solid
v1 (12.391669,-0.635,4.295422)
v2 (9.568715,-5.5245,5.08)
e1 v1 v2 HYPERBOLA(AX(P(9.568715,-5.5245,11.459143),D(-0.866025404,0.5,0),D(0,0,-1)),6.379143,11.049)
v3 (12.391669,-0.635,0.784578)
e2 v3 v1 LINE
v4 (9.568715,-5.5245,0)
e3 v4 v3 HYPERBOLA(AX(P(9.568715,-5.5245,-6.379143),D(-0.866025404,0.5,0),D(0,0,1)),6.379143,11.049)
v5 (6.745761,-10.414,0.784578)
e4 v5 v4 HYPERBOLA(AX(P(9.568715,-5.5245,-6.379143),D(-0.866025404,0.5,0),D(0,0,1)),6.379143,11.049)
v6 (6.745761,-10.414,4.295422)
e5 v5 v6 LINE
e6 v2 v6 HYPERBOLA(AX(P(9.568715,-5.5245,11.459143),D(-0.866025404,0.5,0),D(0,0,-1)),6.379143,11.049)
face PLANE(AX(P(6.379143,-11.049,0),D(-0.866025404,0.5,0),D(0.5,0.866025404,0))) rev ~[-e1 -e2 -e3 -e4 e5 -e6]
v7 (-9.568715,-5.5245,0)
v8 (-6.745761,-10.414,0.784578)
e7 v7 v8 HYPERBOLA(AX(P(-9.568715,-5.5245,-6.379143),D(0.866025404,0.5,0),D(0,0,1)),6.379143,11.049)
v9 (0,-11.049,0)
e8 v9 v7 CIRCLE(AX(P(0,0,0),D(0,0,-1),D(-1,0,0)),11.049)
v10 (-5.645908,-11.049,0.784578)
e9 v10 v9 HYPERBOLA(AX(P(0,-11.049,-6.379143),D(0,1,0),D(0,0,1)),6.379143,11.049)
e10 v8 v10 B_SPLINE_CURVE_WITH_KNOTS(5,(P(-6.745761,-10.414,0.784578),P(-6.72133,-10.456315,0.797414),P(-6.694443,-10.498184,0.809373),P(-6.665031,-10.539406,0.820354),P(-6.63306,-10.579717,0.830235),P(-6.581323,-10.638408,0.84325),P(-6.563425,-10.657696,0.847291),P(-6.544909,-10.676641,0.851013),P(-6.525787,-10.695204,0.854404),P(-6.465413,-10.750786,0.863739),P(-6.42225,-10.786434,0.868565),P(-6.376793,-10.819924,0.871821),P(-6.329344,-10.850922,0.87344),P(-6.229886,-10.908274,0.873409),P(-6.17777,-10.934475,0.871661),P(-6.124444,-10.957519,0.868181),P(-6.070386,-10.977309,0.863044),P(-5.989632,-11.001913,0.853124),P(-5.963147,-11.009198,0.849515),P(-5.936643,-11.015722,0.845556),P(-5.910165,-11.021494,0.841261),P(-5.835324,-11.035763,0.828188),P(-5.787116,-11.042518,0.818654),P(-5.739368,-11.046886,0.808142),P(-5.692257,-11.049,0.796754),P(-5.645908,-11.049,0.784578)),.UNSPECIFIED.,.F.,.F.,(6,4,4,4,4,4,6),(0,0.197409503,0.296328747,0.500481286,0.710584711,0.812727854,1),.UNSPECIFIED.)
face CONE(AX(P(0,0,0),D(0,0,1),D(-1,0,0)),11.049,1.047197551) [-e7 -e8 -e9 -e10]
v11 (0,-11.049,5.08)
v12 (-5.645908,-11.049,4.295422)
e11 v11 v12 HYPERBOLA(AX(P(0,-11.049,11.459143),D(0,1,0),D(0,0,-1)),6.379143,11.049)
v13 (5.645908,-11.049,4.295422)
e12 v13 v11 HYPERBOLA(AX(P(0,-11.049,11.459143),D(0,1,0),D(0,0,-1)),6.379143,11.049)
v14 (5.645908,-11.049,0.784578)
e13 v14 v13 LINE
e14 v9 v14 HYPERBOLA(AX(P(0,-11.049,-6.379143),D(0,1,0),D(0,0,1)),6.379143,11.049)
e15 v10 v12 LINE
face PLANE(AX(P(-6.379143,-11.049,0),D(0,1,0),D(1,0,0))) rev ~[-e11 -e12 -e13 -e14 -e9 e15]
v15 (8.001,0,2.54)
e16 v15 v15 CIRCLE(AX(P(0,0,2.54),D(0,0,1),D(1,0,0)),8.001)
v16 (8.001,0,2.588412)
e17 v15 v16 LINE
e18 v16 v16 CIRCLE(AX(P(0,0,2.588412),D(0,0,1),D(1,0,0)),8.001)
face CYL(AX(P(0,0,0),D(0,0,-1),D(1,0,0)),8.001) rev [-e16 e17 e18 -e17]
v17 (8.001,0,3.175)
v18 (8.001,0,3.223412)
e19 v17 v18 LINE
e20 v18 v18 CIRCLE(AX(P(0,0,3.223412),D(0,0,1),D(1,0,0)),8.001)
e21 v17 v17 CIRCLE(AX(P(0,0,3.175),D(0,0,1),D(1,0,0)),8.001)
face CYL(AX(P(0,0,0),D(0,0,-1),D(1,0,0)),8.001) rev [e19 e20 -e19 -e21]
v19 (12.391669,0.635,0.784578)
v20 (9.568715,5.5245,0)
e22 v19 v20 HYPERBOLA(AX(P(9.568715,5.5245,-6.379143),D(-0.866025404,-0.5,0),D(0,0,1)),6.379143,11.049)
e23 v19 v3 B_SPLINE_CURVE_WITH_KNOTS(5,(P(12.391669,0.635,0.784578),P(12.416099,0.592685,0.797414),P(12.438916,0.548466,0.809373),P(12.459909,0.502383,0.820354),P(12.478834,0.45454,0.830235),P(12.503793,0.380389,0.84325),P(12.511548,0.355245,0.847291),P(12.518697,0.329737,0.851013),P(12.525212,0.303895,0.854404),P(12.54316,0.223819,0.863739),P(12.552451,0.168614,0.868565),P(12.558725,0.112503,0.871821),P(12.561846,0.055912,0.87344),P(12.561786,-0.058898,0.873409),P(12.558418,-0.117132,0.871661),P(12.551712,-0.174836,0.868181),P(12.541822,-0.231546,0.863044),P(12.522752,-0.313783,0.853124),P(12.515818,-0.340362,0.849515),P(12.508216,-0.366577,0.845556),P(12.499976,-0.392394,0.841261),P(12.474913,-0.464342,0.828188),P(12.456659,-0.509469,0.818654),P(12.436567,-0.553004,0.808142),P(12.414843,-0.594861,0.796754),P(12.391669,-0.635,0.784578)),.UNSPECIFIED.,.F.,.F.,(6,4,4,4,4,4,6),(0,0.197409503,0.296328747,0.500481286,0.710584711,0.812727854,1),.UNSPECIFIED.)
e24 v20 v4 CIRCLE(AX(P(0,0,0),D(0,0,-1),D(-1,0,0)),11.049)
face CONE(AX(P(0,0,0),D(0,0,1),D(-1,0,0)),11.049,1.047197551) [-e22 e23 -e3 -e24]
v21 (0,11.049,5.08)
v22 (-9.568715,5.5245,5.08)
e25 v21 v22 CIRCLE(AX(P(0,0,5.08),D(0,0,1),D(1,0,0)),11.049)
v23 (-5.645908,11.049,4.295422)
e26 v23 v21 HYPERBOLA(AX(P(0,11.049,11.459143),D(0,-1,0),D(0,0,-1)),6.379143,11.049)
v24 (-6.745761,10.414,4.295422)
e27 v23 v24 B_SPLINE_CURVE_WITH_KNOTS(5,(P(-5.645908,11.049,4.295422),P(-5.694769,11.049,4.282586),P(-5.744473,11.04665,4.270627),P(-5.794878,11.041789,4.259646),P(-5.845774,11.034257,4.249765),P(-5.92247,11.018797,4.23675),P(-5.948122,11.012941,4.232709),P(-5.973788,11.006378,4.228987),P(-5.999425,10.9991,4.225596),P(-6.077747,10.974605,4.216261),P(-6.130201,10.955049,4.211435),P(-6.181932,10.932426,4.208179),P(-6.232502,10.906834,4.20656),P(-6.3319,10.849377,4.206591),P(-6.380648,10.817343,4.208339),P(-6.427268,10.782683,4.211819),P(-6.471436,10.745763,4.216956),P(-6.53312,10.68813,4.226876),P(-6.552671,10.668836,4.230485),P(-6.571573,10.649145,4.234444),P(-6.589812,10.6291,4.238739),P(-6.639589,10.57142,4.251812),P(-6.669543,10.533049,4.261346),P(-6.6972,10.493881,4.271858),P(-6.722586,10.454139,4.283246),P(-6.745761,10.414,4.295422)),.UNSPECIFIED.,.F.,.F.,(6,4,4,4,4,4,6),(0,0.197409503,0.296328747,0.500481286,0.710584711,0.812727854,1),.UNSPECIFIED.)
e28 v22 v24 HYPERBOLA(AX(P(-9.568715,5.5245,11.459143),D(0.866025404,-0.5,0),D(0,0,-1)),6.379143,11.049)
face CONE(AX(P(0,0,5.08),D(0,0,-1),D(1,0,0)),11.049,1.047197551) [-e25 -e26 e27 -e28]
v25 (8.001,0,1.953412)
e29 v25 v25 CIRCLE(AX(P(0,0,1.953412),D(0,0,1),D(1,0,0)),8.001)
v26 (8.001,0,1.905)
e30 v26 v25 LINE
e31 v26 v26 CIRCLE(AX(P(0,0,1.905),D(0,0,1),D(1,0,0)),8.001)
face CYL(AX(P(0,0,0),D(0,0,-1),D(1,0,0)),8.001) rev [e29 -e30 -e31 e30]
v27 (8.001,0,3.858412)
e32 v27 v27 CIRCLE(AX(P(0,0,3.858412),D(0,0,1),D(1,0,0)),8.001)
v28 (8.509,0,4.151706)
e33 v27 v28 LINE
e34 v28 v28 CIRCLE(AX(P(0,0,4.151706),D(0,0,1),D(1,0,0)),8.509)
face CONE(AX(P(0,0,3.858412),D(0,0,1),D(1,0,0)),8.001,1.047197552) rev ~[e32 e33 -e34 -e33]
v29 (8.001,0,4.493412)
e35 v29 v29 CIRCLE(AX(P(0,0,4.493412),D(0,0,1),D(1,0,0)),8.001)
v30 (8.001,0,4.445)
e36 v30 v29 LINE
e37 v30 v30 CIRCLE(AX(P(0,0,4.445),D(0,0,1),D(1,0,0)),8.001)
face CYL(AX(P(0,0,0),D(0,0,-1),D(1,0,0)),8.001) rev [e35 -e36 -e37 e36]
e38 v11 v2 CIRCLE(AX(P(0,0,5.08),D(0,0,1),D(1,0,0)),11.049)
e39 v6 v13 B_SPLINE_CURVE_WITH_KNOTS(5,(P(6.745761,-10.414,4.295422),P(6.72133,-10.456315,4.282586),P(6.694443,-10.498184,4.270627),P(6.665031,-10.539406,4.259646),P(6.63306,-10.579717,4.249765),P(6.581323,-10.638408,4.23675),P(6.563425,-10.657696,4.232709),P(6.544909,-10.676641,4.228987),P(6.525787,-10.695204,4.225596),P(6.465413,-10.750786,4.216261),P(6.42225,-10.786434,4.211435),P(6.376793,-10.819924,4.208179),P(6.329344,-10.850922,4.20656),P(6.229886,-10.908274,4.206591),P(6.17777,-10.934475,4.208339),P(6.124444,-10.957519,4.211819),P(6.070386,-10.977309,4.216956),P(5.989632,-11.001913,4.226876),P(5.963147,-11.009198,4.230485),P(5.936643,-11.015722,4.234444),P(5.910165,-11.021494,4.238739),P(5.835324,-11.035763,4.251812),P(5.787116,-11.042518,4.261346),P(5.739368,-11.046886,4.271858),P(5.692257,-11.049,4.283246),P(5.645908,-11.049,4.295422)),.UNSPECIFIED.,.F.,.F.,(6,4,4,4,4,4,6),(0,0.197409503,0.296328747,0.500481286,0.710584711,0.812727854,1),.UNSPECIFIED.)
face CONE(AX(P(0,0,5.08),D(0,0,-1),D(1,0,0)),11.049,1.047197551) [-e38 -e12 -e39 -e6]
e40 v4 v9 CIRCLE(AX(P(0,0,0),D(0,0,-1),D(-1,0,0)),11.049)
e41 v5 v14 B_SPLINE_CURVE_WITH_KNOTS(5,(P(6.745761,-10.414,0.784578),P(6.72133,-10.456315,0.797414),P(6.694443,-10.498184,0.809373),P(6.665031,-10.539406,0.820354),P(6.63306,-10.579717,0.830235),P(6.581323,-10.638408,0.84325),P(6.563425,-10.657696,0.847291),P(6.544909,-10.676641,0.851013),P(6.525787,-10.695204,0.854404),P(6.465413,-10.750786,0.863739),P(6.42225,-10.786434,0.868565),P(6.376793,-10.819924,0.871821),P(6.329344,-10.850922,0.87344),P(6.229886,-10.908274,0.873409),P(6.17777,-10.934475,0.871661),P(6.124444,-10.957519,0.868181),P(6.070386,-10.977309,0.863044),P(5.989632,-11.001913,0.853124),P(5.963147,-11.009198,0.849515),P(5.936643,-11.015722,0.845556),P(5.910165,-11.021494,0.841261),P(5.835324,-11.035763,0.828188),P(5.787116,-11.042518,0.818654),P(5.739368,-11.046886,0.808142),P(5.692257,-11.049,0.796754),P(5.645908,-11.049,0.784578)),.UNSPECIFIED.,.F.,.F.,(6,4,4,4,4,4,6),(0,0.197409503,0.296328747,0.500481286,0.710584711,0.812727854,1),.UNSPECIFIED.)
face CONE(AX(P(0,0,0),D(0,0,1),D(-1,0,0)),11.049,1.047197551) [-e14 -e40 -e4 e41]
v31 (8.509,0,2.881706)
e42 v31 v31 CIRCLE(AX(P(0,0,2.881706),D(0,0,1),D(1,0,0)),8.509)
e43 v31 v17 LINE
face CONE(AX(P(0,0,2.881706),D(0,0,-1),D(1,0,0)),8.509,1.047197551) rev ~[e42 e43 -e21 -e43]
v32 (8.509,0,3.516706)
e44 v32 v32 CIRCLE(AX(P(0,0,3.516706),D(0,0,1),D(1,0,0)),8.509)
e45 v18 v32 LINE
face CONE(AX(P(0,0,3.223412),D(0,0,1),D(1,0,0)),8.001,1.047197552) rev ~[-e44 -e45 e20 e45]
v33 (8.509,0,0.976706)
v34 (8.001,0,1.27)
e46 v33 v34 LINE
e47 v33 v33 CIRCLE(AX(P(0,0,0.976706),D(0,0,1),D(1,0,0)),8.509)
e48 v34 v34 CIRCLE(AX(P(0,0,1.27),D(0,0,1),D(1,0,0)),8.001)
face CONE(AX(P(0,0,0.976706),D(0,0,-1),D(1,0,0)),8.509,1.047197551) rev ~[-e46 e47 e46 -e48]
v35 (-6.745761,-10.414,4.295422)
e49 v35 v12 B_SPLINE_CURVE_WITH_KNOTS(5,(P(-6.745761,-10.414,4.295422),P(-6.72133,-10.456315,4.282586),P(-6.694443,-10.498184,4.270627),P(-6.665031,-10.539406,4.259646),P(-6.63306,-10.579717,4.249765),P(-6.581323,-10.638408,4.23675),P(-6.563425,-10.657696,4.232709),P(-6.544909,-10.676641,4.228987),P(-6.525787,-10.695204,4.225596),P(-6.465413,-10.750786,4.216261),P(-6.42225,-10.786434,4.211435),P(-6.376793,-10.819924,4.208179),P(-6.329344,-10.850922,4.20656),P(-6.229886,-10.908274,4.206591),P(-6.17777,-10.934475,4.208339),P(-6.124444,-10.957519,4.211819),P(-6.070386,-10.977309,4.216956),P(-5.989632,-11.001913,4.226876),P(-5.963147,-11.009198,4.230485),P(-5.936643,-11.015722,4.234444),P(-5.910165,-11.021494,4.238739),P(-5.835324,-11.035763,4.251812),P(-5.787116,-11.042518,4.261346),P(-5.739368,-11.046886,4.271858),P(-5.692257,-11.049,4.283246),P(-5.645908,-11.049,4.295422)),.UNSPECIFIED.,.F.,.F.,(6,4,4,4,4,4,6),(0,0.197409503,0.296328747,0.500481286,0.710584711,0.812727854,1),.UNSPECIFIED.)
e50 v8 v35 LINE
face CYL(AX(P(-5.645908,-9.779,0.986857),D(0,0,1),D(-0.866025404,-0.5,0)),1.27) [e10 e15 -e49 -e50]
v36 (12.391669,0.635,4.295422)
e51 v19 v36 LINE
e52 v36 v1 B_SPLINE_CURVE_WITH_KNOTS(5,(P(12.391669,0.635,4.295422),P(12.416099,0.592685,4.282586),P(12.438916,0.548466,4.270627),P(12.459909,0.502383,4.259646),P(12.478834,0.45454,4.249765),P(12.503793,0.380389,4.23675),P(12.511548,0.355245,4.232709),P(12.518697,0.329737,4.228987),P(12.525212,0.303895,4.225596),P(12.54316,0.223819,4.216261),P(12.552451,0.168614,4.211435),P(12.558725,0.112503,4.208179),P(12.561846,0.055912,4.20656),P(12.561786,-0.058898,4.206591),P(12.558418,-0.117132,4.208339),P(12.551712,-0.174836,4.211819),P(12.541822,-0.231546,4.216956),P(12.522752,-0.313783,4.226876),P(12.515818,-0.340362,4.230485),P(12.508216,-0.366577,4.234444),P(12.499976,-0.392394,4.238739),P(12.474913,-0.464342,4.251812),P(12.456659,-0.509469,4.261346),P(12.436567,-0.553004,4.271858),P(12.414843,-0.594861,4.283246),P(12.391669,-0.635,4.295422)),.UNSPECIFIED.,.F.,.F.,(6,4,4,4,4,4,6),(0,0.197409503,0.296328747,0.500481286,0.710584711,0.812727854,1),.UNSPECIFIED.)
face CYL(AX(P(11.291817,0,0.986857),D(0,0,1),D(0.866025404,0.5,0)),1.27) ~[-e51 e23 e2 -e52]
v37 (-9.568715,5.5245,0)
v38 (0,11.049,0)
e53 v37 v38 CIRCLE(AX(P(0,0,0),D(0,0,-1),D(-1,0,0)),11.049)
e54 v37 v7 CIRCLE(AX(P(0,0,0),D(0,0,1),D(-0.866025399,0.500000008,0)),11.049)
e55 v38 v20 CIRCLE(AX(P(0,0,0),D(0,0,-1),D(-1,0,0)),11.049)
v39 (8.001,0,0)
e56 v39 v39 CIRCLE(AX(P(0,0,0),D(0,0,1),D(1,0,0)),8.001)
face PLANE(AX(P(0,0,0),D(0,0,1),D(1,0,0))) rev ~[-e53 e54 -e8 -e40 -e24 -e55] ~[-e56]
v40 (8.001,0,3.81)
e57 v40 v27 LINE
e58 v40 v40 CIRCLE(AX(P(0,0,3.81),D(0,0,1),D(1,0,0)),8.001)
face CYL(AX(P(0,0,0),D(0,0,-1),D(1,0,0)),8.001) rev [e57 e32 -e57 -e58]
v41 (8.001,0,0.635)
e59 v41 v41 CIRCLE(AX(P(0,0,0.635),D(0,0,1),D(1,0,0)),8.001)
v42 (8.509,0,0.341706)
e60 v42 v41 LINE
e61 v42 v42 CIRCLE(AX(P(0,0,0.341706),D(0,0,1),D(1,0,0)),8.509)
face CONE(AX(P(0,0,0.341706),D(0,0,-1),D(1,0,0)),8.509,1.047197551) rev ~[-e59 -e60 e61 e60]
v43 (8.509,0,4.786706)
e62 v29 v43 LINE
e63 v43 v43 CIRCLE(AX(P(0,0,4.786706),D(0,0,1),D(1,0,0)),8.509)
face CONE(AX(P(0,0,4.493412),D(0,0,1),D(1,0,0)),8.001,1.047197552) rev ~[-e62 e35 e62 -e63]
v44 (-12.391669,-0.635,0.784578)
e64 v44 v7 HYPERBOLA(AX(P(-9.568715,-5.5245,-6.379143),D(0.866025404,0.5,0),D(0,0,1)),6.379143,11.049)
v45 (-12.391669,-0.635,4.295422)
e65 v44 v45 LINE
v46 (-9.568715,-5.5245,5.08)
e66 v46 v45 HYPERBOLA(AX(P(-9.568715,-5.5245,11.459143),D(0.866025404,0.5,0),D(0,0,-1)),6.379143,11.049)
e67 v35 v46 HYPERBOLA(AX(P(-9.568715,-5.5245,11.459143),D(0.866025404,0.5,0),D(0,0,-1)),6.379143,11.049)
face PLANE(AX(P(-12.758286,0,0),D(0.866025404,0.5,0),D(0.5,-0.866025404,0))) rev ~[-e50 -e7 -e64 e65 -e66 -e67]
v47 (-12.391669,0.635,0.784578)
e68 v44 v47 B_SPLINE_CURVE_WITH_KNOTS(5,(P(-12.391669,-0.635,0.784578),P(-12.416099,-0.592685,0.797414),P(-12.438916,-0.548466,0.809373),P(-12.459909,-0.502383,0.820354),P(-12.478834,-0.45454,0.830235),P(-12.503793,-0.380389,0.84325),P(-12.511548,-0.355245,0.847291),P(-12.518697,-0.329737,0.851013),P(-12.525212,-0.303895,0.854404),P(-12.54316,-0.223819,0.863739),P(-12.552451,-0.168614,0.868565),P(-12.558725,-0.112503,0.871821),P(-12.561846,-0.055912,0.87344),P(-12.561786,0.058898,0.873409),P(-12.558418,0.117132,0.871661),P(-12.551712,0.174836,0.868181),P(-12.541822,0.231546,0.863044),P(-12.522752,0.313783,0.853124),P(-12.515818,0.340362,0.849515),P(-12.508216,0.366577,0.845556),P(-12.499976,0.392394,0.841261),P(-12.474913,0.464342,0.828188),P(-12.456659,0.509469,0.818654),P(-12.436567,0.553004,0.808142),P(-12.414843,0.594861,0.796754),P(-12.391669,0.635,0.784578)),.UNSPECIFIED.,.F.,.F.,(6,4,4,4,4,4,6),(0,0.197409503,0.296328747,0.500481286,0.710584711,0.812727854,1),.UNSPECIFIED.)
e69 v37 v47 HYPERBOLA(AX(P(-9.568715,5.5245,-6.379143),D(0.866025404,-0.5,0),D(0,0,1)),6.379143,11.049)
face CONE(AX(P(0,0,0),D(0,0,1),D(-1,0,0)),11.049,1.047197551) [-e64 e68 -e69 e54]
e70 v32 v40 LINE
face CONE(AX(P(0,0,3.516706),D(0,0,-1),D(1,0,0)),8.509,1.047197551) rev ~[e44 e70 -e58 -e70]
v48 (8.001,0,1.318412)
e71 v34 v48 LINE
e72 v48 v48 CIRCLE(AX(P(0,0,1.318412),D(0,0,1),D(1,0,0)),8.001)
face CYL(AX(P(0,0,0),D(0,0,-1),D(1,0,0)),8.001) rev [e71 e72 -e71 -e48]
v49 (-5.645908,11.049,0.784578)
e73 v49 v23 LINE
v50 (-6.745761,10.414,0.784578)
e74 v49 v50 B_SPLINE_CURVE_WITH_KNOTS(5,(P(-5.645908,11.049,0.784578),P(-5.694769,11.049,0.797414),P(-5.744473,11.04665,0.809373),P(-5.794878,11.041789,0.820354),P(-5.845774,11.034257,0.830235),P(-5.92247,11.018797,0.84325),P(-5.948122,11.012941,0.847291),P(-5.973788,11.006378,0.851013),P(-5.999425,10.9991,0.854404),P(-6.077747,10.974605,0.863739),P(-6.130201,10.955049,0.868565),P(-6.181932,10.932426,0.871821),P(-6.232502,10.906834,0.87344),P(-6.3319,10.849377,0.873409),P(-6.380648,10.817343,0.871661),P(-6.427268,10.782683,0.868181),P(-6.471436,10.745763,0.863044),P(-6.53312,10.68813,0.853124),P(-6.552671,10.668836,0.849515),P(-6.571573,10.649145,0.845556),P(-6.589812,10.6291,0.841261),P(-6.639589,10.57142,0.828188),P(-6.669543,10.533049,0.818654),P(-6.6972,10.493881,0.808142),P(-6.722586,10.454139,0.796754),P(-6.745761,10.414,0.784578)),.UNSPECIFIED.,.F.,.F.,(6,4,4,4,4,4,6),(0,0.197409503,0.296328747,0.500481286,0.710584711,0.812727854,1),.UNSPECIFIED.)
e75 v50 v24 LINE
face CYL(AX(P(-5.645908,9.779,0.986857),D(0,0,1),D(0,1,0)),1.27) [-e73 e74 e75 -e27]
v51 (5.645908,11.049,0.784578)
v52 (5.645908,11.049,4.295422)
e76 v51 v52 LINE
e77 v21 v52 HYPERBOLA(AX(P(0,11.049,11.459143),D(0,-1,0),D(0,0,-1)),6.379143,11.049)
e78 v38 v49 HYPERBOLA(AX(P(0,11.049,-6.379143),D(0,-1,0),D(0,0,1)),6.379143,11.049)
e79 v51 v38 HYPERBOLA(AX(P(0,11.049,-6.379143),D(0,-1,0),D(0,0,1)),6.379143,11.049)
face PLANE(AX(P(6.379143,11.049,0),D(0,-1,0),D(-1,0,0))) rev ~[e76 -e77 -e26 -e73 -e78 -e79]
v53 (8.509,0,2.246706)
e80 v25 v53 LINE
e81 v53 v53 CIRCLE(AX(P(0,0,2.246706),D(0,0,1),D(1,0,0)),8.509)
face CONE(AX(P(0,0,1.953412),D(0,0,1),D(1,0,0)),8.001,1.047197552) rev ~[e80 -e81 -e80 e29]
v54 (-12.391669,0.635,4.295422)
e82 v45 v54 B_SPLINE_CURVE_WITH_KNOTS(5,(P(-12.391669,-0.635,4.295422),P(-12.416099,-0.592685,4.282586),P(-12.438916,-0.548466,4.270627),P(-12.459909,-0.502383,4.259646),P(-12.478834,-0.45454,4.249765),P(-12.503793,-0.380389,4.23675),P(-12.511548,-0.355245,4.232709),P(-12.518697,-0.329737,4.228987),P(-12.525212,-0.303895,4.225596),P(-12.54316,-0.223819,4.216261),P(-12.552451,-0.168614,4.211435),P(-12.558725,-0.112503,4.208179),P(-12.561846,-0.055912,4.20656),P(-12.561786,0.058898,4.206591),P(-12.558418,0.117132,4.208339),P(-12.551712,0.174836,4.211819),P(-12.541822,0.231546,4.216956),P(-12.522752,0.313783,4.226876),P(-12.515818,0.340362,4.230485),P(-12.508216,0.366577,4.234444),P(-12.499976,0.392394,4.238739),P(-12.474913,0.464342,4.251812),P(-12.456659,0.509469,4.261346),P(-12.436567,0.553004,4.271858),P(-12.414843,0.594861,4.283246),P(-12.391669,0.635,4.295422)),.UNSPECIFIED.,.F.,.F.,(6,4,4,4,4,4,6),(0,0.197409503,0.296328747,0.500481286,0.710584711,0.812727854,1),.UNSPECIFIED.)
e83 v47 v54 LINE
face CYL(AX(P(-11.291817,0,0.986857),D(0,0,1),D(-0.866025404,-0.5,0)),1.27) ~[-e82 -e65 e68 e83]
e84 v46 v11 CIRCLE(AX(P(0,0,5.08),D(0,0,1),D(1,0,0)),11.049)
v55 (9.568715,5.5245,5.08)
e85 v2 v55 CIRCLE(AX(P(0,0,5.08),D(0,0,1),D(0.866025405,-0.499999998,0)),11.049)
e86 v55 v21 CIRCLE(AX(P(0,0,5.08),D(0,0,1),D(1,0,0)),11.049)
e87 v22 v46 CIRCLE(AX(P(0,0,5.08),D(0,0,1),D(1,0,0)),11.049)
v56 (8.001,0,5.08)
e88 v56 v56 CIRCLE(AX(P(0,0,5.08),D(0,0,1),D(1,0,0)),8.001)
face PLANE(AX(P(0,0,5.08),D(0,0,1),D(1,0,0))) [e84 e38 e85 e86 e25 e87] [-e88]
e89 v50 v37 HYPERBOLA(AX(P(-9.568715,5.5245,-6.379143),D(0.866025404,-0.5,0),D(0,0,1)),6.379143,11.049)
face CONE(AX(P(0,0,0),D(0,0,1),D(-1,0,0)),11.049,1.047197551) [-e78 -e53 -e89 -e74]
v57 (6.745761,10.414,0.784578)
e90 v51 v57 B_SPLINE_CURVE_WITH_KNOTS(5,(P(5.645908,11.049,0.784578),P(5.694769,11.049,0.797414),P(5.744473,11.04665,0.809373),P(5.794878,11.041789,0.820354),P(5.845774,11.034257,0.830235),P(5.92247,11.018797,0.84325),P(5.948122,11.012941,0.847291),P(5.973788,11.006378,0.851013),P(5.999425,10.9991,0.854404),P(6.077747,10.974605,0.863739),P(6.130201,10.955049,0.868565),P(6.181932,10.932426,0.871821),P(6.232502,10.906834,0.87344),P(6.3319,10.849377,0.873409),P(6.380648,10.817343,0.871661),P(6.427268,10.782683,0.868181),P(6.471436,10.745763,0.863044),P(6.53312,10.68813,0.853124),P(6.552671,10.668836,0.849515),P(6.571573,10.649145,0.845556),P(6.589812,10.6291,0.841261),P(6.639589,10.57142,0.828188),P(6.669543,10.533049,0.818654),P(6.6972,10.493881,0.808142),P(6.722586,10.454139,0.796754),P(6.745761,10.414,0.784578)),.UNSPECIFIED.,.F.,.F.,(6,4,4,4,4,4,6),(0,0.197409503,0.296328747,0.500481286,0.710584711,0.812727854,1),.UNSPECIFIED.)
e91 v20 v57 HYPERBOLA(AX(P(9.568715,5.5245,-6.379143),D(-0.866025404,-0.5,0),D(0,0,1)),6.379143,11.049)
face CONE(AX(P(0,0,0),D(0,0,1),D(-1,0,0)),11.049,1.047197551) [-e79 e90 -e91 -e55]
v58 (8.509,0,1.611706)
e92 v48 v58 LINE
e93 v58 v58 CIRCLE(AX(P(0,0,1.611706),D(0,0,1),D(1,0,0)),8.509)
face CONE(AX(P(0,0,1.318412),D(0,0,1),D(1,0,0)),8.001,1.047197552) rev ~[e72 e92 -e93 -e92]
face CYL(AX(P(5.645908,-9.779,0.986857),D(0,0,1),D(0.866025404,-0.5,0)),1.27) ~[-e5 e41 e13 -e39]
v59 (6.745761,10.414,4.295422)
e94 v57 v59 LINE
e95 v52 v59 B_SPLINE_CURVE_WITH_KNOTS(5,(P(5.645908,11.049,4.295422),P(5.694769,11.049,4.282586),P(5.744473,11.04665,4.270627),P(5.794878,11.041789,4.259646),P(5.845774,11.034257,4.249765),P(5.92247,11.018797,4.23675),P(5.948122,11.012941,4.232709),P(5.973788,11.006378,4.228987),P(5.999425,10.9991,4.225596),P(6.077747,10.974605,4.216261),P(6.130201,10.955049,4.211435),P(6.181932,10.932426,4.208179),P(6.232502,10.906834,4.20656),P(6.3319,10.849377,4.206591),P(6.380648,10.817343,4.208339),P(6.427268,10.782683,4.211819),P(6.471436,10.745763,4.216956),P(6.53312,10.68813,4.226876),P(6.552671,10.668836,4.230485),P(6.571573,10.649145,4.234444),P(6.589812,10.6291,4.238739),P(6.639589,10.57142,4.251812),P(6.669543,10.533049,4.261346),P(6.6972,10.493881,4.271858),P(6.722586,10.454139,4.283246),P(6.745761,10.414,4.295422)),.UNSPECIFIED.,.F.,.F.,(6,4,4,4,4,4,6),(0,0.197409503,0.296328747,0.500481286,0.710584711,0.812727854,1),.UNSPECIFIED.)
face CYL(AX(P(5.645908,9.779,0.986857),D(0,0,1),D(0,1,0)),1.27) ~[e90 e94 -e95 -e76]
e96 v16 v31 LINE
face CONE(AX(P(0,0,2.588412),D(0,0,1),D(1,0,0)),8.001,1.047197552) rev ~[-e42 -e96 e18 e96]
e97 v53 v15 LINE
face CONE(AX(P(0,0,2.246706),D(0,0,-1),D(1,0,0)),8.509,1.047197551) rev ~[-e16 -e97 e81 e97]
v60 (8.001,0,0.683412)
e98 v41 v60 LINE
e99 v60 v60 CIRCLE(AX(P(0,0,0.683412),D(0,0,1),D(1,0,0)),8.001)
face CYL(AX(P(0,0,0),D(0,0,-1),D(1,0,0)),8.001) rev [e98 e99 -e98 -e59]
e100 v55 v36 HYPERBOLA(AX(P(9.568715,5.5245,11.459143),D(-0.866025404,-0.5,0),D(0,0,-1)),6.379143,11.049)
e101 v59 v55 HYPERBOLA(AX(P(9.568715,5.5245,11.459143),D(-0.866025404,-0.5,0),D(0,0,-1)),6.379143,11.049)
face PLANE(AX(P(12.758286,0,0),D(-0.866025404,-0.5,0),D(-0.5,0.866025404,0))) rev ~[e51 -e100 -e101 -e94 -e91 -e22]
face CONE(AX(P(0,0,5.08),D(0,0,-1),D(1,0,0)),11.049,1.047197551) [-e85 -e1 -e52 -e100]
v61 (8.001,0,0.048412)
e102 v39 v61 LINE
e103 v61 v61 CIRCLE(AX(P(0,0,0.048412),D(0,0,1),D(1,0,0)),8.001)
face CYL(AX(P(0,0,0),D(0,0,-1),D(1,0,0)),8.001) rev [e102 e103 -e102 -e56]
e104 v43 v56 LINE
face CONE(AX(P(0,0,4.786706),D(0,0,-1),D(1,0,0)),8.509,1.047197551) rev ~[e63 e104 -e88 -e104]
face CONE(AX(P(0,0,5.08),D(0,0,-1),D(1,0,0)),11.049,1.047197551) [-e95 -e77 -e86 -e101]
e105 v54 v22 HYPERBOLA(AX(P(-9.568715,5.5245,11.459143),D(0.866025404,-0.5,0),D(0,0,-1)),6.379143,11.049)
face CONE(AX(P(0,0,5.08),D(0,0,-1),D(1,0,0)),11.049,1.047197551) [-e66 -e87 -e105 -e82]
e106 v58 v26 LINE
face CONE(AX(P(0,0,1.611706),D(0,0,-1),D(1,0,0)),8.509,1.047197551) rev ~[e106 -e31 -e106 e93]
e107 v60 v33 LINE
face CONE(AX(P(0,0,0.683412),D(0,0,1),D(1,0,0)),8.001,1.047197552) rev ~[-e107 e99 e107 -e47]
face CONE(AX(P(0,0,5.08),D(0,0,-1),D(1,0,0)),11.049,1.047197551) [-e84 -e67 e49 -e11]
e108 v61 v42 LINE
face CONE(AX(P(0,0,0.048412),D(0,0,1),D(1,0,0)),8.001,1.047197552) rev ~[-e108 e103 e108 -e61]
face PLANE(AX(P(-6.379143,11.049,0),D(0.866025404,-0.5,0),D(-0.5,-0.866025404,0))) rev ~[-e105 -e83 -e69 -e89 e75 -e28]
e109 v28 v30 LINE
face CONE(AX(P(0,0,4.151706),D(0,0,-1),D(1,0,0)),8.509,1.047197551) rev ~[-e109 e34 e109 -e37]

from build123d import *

# Parameters (mm, degrees)
SKETCH1_R          = 8.001
EXTRUDE1_DEPTH     = 5.08
SKETCH2_OUTSIDE_W  = 55.404
SKETCH2_OUTSIDE_H  = 51.986
SKETCH2_OUTSIDE_R  = 11.049
CUT_EXTRUDE1_DEPTH = 6.08
CUT_EXTRUDE1_DRAFT = -60
SKETCH3_OUTSIDE_W  = 55.404
SKETCH3_OUTSIDE_H  = 51.986
SKETCH3_OUTSIDE_R  = 11.049
CUT_EXTRUDE2_DEPTH = 6.08
CUT_EXTRUDE2_DRAFT = -60
FILLET1_R          = 1.27
LPATTERN1_COUNT    = 8
LPATTERN1_PITCH    = 0.635


with BuildPart() as part:
    # Sketch1 → Extrude1 (new body)
    with BuildSketch(Plane.XY):
        Polygon((-12.758286249, 0), (-6.379143124, -11.049), (6.379143124, -11.049), (12.758286249, 0), (6.379143124, 11.049), (-6.379143124, 11.049), align=None)
        Circle(SKETCH1_R, mode=Mode.SUBTRACT)
    extrude(amount=EXTRUDE1_DEPTH)


with BuildPart() as cut_extrude1_tool:
    # Sketch2 outside → Cut-Extrude1 (with draft: the straight prism first)
    with BuildSketch(Plane.XY.offset(5.08)):
        Rectangle(SKETCH2_OUTSIDE_W, SKETCH2_OUTSIDE_H)
        Circle(SKETCH2_OUTSIDE_R, mode=Mode.SUBTRACT)
    extrude(amount=-CUT_EXTRUDE1_DEPTH)
    # Cut-Extrude1: the draft: its side faces are tilted about the plane it starts from
    cut_extrude1_sides = [cut_extrude1_tool.faces().sort_by_distance(p)[0] for p in [
        (0, -25.993, 2.04),
        (27.702, 0, 2.04),
        (0, 25.993, 2.04),
        (-27.702, 0, 2.04),
        (-11.049, 0, 2.04),
    ]]
    draft(cut_extrude1_sides, Plane.XY.offset(5.08), CUT_EXTRUDE1_DRAFT)


with BuildPart() as part_1:
    add(part.part)

    # Cut-Extrude1: cut by cut_extrude1_tool
    add(cut_extrude1_tool.part, mode=Mode.SUBTRACT)


with BuildPart() as cut_extrude2_tool:
    # Sketch3 outside → Cut-Extrude2 (with draft: the straight prism first)
    with BuildSketch(Plane(origin=(0, 0, 0), x_dir=(-1, 0, 0), z_dir=(0, 0, -1))):
        Rectangle(SKETCH3_OUTSIDE_W, SKETCH3_OUTSIDE_H)
        Circle(SKETCH3_OUTSIDE_R, mode=Mode.SUBTRACT)
    extrude(amount=-CUT_EXTRUDE2_DEPTH)
    # Cut-Extrude2: the draft: its side faces are tilted about the plane it starts from
    cut_extrude2_sides = [cut_extrude2_tool.faces().sort_by_distance(p)[0] for p in [
        (0, -25.993, 3.04),
        (-27.702, 0, 3.04),
        (0, 25.993, 3.04),
        (27.702, 0, 3.04),
        (11.049, 0, 3.04),
    ]]
    draft(cut_extrude2_sides, Plane(origin=(0, 0, 0), x_dir=(-1, 0, 0), z_dir=(0, 0, -1)), CUT_EXTRUDE2_DRAFT)


with BuildPart() as part_2:
    add(part_1.part)

    # Cut-Extrude2: cut by cut_extrude2_tool
    add(cut_extrude2_tool.part, mode=Mode.SUBTRACT)

    # Fillet1
    fillet1_edges = [part_2.edges().sort_by_distance(p)[0] for p in [
        (12.758286249, 0, 2.54),
        (6.379143124, -11.049, 2.54),
        (-6.379143124, -11.049, 2.54),
        (-12.758286249, 0, 2.54),
        (-6.379143124, 11.049, 2.54),
        (6.379143124, 11.049, 2.54),
    ]]
    fillet(fillet1_edges, radius=FILLET1_R)

    # Sketch4 → Cut-Revolve1 (revolve, cut)
    with BuildSketch(Plane(origin=(0, 0, 0), x_dir=(1, 0, 0), z_dir=(0, 1, 0)), mode=Mode.PRIVATE) as cut_revolve1_sk:
        Polygon((-8.001, -5.08), (-8.001, -4.493412127), (-8.509, -4.786706063), align=None)
    cut_revolve1 = revolve(cut_revolve1_sk.sketch.rotate(Axis((0, 0, 0), (0, 0, 1)), 180), axis=Axis((0, 0, 0), (0, 0, 1)), mode=Mode.SUBTRACT)  # turned: the seam where the file's is

    # LPattern1: Cut-Revolve1 ×8
    with Locations(*[(0, 0, -i * LPATTERN1_PITCH) for i in range(1, LPATTERN1_COUNT)]):
        add(cut_revolve1, mode=Mode.SUBTRACT)


solid = part_2.part
